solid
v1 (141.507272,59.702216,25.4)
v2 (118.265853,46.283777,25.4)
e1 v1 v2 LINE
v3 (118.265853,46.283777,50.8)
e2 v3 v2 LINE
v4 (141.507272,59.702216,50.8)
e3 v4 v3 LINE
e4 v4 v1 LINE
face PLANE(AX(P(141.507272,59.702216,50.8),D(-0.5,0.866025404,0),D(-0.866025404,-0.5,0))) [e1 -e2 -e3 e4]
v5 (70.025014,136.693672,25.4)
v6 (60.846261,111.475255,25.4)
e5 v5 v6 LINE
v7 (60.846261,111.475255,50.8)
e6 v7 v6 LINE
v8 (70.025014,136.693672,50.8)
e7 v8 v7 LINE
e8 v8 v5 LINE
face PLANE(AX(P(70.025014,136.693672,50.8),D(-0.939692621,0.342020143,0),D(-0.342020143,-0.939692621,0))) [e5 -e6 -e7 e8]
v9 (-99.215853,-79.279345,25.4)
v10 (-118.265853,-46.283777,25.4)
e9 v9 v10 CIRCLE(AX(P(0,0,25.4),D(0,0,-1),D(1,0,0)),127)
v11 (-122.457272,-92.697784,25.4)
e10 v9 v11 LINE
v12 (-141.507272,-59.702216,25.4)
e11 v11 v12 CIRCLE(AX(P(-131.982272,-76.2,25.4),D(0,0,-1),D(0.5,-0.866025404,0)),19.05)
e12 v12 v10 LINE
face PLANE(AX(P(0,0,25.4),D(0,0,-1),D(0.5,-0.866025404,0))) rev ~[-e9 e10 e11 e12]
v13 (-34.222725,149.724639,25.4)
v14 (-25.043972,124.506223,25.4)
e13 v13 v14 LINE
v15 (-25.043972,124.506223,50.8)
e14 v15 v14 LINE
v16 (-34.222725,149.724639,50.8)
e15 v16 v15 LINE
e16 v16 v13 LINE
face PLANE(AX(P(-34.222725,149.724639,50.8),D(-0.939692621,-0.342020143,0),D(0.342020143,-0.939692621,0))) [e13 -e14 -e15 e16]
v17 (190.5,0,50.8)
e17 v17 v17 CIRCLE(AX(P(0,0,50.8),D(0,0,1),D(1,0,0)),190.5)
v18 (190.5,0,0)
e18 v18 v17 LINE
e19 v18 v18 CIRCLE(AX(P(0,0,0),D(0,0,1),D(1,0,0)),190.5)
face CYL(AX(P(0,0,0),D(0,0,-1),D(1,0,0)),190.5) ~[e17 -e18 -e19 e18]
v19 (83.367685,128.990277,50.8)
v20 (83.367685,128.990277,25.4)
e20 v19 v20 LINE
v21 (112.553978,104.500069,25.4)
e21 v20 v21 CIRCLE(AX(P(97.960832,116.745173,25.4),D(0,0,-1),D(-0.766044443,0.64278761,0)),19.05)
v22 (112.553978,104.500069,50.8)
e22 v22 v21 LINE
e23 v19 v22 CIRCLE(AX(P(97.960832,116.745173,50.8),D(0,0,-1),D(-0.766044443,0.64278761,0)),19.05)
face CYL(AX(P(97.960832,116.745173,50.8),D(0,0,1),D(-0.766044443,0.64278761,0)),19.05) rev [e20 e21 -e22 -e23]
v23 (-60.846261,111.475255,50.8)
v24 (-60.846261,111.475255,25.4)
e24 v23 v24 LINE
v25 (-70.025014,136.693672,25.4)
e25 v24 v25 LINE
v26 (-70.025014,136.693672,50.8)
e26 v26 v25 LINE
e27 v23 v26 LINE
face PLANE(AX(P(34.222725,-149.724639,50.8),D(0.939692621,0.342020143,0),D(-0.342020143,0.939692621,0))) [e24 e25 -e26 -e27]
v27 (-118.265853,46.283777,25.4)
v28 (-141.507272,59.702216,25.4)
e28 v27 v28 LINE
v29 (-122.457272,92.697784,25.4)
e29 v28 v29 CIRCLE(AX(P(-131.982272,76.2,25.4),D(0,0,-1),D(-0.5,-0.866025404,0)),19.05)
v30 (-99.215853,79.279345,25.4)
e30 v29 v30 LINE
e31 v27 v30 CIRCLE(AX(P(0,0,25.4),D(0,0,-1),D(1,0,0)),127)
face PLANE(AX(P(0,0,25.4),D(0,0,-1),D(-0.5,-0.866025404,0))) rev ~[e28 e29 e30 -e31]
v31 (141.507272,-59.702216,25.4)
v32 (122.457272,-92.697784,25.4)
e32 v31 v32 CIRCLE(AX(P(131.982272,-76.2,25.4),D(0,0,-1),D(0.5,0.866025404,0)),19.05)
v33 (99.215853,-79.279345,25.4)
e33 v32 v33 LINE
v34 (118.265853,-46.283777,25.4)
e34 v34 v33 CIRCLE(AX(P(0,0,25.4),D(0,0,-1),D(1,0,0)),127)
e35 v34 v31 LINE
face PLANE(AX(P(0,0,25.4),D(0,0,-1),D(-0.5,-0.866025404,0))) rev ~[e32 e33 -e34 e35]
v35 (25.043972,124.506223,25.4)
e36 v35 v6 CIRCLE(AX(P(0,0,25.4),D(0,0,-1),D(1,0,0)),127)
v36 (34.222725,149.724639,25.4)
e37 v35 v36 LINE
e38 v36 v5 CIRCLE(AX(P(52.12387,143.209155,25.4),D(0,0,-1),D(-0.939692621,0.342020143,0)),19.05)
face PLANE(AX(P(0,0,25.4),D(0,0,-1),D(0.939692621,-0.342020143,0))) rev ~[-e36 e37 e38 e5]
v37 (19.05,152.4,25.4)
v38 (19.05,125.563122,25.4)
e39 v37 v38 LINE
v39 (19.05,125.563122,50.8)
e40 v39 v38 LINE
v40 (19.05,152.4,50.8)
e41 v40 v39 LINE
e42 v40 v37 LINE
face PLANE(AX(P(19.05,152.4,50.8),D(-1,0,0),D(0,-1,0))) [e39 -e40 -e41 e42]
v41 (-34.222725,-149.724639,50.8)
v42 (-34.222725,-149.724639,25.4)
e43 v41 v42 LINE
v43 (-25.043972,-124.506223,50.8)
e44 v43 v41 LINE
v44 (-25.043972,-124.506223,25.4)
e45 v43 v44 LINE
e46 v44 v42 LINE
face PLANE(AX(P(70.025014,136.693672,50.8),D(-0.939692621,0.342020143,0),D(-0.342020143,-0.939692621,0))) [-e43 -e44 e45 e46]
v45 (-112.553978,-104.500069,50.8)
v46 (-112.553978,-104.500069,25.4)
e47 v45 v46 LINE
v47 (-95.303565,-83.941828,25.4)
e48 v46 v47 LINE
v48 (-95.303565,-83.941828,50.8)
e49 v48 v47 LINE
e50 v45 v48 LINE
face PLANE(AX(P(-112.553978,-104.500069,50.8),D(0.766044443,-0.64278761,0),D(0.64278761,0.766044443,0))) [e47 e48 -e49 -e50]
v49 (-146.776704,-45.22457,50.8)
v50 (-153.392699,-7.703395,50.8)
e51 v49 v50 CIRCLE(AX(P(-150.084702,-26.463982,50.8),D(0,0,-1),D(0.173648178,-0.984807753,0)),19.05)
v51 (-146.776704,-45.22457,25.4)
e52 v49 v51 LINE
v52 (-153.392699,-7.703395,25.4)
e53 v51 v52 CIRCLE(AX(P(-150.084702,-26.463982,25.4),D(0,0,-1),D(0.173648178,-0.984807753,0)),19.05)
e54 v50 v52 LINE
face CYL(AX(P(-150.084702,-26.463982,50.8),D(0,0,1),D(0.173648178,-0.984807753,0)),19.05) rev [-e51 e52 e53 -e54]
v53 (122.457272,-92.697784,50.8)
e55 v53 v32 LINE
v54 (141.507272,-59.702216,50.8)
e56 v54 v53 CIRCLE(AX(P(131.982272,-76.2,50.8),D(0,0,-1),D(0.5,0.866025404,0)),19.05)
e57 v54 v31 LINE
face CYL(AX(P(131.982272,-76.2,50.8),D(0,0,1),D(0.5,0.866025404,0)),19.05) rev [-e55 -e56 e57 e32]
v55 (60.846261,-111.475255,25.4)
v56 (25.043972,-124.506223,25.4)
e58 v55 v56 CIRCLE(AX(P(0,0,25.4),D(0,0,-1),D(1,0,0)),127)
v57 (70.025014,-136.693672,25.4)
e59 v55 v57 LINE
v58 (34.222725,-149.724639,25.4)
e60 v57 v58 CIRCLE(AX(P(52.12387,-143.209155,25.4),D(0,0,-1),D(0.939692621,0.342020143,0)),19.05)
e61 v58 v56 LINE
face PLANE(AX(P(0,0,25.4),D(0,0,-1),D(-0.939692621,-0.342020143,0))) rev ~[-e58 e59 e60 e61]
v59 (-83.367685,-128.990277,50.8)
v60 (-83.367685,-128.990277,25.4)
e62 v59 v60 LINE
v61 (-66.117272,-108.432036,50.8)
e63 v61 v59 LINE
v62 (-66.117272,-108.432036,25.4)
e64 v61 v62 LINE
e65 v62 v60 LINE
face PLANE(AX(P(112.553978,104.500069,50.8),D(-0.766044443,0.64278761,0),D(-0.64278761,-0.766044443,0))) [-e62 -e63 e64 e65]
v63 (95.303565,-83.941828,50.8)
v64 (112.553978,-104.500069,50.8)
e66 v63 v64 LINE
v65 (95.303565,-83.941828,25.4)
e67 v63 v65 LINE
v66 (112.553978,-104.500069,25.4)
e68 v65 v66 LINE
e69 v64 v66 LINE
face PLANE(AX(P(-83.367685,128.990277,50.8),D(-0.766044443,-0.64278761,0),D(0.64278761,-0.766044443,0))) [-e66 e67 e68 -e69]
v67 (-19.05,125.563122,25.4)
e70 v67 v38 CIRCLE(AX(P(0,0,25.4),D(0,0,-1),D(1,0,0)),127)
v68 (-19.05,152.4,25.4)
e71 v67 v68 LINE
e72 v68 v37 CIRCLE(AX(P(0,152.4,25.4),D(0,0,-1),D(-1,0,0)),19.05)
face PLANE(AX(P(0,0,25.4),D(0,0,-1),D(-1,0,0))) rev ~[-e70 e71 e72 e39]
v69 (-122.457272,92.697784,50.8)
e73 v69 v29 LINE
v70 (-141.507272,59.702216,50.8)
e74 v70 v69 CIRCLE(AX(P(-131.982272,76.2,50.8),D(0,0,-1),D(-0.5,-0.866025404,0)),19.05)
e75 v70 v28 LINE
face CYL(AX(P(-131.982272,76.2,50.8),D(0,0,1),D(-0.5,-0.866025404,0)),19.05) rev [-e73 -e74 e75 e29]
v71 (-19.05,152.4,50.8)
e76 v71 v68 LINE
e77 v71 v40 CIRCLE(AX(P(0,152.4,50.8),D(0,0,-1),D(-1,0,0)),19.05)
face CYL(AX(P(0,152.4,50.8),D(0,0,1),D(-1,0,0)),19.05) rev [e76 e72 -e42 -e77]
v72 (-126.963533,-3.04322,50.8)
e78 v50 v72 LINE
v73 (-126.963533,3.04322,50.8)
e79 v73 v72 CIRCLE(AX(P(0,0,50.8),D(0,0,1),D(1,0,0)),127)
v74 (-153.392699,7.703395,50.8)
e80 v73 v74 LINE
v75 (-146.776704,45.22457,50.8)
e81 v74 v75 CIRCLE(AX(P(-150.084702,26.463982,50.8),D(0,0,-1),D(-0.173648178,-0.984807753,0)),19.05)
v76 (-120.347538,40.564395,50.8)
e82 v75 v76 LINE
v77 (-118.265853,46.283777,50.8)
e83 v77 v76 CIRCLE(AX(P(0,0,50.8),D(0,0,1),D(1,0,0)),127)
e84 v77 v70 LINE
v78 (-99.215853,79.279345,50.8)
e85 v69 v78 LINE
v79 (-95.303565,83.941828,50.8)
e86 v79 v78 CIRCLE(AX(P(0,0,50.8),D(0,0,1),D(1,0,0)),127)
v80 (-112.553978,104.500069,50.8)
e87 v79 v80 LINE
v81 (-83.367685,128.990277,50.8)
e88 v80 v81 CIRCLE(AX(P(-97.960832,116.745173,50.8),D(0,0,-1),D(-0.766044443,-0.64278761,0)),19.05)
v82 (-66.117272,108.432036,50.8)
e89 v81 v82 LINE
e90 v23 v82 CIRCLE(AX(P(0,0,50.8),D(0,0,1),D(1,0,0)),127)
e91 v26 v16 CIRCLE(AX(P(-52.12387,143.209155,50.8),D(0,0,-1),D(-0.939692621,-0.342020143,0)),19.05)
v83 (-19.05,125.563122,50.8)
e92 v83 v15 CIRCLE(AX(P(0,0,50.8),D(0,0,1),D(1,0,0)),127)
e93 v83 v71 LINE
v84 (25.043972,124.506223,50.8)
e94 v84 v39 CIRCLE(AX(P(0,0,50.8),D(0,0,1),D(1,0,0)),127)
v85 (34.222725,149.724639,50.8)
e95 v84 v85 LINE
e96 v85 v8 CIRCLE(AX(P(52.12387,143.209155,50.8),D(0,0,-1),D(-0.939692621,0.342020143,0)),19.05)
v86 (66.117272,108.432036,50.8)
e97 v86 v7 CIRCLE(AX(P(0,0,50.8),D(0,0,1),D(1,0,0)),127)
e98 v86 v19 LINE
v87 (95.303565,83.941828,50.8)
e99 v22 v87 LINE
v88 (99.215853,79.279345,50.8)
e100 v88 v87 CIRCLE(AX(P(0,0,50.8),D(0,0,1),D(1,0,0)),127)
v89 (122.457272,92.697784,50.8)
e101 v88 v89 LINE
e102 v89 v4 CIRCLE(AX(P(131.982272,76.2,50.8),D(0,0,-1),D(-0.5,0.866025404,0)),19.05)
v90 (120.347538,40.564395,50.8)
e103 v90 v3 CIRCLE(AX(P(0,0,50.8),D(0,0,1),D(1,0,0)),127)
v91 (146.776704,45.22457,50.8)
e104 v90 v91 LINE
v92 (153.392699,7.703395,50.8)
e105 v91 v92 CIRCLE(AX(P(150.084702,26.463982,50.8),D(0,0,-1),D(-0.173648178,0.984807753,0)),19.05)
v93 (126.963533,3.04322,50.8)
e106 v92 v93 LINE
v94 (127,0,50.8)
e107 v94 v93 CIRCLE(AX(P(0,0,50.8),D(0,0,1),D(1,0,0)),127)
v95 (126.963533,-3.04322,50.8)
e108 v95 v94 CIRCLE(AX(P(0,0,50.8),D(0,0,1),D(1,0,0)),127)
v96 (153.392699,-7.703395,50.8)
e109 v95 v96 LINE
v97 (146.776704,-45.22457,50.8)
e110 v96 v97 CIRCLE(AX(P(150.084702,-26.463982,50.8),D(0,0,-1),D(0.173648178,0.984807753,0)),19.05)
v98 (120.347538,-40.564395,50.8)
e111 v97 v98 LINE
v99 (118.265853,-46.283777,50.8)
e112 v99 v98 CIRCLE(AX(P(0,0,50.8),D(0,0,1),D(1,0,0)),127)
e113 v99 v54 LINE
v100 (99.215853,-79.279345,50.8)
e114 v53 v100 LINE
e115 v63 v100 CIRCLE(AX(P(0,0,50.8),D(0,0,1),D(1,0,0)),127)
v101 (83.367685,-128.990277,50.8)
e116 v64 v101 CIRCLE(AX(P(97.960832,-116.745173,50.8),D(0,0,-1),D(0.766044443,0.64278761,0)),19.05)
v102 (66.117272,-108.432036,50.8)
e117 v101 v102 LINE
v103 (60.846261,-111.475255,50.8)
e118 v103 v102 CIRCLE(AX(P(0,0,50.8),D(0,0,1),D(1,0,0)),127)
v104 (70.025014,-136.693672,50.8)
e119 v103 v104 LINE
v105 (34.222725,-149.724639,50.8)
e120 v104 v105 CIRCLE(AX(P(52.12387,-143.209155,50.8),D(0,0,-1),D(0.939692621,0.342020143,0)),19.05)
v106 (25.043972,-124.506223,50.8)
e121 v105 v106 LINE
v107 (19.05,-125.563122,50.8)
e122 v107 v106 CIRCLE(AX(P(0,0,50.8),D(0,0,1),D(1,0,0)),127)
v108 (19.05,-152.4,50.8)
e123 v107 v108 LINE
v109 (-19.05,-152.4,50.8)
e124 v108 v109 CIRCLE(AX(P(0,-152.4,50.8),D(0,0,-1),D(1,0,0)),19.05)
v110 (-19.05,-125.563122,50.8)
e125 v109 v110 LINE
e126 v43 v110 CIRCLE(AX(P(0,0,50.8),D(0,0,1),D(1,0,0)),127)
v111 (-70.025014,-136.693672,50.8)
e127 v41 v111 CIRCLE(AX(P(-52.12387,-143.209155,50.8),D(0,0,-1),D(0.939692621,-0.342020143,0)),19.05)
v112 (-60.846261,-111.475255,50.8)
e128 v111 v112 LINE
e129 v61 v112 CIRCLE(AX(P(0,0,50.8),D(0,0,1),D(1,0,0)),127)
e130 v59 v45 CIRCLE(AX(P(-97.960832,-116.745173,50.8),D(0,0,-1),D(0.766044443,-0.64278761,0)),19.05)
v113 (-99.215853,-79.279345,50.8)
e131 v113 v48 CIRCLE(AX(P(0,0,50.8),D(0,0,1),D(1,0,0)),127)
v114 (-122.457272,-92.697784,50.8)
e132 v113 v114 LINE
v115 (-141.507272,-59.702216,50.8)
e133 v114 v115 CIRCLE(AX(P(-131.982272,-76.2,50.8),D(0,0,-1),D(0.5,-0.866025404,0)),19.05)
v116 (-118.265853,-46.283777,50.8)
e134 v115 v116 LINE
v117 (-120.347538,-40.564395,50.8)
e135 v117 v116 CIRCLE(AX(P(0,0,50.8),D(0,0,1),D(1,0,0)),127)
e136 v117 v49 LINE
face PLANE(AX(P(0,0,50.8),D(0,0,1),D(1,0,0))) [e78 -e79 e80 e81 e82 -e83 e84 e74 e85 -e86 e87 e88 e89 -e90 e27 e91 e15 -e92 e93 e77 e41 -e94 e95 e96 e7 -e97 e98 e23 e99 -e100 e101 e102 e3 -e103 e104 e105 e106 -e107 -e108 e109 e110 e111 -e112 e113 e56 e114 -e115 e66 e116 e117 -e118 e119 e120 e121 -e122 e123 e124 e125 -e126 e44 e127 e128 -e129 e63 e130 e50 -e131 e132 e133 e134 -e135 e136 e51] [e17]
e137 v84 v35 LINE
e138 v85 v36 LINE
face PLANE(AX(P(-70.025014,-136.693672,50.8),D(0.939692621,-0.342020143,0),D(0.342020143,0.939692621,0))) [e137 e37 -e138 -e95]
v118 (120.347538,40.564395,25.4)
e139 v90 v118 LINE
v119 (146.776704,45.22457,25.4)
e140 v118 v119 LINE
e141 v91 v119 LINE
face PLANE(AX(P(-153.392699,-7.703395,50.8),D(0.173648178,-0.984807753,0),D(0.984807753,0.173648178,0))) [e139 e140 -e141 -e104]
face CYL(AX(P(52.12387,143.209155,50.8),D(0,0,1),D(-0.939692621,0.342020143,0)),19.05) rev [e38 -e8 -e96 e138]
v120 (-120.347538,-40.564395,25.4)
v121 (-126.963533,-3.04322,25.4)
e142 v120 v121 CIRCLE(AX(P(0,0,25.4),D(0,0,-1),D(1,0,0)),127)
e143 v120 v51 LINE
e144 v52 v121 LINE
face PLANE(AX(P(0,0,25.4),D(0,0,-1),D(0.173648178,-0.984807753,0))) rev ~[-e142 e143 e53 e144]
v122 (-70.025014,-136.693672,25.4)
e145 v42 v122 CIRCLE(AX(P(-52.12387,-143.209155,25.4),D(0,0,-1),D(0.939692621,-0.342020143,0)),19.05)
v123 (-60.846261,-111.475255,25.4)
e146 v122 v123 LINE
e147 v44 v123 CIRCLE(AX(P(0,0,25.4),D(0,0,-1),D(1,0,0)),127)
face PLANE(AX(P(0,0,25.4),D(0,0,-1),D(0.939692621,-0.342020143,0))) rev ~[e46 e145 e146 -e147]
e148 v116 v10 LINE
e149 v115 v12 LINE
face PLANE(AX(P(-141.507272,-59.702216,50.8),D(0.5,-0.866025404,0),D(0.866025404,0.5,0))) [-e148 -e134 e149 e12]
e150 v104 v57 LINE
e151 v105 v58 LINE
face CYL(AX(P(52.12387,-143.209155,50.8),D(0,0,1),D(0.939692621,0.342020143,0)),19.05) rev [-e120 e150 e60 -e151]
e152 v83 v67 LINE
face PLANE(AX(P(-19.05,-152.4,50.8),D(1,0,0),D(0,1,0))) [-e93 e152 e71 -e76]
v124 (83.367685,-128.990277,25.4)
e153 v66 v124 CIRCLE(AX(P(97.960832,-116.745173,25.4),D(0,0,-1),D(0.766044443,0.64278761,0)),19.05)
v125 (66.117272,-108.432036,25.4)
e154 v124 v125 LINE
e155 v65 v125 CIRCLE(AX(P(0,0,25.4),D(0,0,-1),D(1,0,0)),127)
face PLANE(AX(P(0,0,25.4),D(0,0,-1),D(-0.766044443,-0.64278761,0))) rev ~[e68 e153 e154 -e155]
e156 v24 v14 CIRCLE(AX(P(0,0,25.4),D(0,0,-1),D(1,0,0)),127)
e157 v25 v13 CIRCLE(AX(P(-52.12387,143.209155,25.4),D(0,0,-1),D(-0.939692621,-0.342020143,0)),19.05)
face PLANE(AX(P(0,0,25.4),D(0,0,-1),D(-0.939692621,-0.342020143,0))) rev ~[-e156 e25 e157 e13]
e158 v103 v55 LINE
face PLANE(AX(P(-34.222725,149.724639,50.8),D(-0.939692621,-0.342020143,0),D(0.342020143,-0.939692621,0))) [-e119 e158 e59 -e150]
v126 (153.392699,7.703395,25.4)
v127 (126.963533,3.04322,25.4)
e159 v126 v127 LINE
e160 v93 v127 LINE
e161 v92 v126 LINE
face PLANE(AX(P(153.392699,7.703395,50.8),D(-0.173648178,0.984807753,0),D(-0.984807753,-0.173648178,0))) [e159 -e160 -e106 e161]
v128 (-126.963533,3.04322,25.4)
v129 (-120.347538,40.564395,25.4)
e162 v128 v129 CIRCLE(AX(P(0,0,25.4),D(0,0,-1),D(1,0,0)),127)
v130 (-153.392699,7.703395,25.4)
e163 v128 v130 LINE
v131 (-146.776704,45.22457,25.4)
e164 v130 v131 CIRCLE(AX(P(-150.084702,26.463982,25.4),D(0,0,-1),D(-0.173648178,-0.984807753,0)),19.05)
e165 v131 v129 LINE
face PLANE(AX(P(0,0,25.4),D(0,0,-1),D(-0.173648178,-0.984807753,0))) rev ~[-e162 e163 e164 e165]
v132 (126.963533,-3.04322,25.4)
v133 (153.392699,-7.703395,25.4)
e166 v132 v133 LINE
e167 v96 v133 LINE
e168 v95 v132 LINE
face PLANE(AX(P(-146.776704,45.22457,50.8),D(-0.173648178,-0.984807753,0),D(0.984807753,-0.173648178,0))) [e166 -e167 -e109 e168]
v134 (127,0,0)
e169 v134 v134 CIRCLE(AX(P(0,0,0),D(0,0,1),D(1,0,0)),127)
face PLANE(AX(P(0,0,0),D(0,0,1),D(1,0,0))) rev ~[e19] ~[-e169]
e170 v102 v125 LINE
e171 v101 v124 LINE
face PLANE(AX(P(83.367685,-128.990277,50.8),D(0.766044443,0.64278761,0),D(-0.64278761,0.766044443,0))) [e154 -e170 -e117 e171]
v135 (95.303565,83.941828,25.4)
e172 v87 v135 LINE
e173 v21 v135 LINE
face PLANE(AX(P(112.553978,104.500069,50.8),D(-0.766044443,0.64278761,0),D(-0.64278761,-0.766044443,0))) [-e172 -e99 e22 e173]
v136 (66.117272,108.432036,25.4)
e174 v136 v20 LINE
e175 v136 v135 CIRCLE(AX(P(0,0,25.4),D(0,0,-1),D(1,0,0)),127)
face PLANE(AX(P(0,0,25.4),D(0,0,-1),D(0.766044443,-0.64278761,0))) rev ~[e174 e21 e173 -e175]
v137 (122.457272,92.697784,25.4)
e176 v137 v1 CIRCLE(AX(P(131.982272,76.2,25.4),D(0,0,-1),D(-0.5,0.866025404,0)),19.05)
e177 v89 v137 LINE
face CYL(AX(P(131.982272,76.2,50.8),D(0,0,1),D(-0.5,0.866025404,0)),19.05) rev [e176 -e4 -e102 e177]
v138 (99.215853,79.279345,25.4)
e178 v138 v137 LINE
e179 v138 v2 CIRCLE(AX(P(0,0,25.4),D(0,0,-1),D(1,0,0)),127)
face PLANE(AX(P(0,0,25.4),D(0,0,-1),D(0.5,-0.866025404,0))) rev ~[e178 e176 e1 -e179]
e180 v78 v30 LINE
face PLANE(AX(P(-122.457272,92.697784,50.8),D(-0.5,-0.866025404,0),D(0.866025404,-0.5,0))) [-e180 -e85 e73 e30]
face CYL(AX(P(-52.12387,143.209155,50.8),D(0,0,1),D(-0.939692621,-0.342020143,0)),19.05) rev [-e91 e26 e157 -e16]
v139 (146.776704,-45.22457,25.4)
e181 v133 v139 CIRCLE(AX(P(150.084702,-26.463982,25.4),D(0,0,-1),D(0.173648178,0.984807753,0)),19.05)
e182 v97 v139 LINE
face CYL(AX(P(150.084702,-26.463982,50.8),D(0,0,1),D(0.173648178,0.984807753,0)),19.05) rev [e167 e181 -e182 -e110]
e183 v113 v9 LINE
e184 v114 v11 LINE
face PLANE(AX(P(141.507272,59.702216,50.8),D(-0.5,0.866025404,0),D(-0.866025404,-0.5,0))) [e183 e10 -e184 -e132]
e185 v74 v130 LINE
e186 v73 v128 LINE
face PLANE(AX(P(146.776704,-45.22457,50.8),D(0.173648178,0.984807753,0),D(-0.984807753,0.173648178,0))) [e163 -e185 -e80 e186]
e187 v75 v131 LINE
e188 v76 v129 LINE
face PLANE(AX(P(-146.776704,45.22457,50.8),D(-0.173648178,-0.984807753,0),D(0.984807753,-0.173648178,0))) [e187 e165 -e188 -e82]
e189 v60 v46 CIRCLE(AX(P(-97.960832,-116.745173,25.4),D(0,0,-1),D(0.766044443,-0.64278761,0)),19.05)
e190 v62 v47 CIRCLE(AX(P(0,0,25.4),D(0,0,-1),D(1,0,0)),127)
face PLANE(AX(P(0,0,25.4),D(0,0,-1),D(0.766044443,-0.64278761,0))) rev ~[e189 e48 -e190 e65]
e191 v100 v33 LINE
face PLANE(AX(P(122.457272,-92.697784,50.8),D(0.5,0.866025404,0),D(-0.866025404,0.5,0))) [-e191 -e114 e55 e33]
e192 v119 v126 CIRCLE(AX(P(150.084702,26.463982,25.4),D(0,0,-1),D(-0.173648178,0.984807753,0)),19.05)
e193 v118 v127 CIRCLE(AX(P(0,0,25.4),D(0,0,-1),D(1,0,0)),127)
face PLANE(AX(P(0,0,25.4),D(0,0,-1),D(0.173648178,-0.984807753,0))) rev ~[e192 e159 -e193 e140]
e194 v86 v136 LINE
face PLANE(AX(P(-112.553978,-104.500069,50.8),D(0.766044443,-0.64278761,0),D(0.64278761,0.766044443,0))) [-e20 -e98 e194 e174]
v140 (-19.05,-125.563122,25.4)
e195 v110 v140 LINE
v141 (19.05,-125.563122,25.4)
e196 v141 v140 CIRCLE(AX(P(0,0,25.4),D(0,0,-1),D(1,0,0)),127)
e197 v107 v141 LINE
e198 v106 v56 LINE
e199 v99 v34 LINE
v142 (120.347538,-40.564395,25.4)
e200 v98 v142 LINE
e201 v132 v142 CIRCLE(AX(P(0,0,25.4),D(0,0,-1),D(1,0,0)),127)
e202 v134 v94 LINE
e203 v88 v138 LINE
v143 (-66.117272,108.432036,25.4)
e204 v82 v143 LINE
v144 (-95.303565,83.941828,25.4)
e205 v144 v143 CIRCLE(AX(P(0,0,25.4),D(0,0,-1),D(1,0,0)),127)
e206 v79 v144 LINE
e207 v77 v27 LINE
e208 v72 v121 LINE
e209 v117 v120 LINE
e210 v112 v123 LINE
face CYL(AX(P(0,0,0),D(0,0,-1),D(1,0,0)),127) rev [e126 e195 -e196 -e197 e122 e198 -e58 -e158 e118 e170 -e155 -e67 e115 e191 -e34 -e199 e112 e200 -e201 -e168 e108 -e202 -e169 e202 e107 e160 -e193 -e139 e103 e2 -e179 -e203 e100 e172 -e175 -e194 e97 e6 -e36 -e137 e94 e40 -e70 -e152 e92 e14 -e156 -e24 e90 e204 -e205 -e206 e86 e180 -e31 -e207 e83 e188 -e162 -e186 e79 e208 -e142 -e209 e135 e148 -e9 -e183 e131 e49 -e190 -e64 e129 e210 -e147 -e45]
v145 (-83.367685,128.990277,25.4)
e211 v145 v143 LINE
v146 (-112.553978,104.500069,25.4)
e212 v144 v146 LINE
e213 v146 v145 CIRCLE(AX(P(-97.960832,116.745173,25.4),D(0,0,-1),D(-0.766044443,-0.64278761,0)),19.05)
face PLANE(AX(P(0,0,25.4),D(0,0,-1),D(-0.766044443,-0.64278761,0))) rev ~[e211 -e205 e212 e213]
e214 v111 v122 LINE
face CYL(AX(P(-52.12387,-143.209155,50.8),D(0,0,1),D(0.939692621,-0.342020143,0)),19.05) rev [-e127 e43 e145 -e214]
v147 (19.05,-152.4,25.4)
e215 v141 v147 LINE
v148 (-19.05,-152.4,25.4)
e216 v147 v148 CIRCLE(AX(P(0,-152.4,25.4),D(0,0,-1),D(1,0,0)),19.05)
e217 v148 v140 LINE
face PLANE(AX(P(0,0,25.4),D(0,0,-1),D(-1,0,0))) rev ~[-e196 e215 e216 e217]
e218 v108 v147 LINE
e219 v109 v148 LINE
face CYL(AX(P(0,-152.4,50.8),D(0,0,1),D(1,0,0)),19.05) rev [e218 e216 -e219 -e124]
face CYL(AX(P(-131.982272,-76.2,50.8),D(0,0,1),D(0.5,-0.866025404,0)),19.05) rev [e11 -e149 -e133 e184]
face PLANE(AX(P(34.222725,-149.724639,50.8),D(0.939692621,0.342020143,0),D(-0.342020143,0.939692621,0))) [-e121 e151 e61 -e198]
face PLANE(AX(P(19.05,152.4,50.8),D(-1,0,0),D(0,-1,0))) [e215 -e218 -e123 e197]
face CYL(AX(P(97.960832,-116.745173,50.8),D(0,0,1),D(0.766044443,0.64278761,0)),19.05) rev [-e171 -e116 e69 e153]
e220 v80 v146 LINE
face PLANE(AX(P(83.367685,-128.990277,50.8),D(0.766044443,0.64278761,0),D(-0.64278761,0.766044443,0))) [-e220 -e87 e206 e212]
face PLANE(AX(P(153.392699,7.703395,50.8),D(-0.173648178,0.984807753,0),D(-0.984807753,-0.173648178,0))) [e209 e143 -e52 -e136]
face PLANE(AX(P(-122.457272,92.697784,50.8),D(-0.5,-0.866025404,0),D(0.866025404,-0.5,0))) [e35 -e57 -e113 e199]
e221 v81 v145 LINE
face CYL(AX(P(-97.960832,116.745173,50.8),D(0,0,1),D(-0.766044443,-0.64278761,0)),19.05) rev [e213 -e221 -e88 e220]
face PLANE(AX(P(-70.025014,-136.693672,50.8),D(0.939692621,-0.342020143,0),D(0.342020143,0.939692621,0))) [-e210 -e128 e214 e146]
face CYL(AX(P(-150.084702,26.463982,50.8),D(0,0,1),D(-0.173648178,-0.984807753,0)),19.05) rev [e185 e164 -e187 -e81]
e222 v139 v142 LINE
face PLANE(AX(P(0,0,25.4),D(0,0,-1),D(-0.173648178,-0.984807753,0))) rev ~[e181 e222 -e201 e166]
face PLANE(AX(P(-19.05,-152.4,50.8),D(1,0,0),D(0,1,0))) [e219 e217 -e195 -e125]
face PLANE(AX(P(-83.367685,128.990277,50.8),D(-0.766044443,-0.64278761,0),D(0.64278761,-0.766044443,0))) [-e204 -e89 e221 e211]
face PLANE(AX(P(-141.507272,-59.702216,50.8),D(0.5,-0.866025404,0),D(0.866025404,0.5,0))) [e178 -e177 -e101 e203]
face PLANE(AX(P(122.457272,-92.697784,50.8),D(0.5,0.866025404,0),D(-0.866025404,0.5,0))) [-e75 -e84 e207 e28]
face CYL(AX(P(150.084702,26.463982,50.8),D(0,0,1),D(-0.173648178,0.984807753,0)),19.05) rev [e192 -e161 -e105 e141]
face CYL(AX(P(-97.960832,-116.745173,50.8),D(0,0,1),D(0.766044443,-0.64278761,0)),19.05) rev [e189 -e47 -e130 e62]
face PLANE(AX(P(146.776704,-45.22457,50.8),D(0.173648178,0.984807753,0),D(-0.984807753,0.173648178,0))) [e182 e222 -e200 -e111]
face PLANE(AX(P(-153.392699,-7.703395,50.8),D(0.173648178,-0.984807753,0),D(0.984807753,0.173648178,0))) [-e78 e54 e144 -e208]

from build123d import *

# Parameters (mm, degrees)
SKETCH1_R           = 190.5
SKETCH1_R_2         = 127
BOSS_EXTRUDE1_DEPTH = 50.8
CUT_EXTRUDE1_DEPTH  = 25.4
CIRPATTERN1_COUNT   = 10
CIRPATTERN1_ANGLE   = 180


with BuildPart() as part:
    # Sketch1 → Boss-Extrude1 (new body)
    with BuildSketch(Plane.XY):
        Circle(SKETCH1_R)
        Circle(SKETCH1_R_2, mode=Mode.SUBTRACT)
    extrude(amount=BOSS_EXTRUDE1_DEPTH)

    # Sketch2 → Cut-Extrude1 (cut)
    with BuildSketch(Plane.XY.offset(50.8)):
        with BuildLine():
            Line((19.05, 152.4), (19.05, -152.4))
            ThreePointArc((19.05, -152.4), (0, -171.45), (-19.05, -152.4))
            Line((-19.05, -152.4), (-19.05, 152.4))
            ThreePointArc((-19.05, 152.4), (0, 171.45), (19.05, 152.4))
        make_face()
    cut_extrude1 = extrude(amount=-CUT_EXTRUDE1_DEPTH, mode=Mode.SUBTRACT)

    # CirPattern1: Cut-Extrude1 ×10 about axis
    cirpattern1_axis = Axis((0, 0, 0), (0, 0, 1))
    for i in range(1, CIRPATTERN1_COUNT):
        add(cut_extrude1.rotate(cirpattern1_axis, i * CIRPATTERN1_ANGLE / (CIRPATTERN1_COUNT - 1)), mode=Mode.SUBTRACT)


solid = part.part
